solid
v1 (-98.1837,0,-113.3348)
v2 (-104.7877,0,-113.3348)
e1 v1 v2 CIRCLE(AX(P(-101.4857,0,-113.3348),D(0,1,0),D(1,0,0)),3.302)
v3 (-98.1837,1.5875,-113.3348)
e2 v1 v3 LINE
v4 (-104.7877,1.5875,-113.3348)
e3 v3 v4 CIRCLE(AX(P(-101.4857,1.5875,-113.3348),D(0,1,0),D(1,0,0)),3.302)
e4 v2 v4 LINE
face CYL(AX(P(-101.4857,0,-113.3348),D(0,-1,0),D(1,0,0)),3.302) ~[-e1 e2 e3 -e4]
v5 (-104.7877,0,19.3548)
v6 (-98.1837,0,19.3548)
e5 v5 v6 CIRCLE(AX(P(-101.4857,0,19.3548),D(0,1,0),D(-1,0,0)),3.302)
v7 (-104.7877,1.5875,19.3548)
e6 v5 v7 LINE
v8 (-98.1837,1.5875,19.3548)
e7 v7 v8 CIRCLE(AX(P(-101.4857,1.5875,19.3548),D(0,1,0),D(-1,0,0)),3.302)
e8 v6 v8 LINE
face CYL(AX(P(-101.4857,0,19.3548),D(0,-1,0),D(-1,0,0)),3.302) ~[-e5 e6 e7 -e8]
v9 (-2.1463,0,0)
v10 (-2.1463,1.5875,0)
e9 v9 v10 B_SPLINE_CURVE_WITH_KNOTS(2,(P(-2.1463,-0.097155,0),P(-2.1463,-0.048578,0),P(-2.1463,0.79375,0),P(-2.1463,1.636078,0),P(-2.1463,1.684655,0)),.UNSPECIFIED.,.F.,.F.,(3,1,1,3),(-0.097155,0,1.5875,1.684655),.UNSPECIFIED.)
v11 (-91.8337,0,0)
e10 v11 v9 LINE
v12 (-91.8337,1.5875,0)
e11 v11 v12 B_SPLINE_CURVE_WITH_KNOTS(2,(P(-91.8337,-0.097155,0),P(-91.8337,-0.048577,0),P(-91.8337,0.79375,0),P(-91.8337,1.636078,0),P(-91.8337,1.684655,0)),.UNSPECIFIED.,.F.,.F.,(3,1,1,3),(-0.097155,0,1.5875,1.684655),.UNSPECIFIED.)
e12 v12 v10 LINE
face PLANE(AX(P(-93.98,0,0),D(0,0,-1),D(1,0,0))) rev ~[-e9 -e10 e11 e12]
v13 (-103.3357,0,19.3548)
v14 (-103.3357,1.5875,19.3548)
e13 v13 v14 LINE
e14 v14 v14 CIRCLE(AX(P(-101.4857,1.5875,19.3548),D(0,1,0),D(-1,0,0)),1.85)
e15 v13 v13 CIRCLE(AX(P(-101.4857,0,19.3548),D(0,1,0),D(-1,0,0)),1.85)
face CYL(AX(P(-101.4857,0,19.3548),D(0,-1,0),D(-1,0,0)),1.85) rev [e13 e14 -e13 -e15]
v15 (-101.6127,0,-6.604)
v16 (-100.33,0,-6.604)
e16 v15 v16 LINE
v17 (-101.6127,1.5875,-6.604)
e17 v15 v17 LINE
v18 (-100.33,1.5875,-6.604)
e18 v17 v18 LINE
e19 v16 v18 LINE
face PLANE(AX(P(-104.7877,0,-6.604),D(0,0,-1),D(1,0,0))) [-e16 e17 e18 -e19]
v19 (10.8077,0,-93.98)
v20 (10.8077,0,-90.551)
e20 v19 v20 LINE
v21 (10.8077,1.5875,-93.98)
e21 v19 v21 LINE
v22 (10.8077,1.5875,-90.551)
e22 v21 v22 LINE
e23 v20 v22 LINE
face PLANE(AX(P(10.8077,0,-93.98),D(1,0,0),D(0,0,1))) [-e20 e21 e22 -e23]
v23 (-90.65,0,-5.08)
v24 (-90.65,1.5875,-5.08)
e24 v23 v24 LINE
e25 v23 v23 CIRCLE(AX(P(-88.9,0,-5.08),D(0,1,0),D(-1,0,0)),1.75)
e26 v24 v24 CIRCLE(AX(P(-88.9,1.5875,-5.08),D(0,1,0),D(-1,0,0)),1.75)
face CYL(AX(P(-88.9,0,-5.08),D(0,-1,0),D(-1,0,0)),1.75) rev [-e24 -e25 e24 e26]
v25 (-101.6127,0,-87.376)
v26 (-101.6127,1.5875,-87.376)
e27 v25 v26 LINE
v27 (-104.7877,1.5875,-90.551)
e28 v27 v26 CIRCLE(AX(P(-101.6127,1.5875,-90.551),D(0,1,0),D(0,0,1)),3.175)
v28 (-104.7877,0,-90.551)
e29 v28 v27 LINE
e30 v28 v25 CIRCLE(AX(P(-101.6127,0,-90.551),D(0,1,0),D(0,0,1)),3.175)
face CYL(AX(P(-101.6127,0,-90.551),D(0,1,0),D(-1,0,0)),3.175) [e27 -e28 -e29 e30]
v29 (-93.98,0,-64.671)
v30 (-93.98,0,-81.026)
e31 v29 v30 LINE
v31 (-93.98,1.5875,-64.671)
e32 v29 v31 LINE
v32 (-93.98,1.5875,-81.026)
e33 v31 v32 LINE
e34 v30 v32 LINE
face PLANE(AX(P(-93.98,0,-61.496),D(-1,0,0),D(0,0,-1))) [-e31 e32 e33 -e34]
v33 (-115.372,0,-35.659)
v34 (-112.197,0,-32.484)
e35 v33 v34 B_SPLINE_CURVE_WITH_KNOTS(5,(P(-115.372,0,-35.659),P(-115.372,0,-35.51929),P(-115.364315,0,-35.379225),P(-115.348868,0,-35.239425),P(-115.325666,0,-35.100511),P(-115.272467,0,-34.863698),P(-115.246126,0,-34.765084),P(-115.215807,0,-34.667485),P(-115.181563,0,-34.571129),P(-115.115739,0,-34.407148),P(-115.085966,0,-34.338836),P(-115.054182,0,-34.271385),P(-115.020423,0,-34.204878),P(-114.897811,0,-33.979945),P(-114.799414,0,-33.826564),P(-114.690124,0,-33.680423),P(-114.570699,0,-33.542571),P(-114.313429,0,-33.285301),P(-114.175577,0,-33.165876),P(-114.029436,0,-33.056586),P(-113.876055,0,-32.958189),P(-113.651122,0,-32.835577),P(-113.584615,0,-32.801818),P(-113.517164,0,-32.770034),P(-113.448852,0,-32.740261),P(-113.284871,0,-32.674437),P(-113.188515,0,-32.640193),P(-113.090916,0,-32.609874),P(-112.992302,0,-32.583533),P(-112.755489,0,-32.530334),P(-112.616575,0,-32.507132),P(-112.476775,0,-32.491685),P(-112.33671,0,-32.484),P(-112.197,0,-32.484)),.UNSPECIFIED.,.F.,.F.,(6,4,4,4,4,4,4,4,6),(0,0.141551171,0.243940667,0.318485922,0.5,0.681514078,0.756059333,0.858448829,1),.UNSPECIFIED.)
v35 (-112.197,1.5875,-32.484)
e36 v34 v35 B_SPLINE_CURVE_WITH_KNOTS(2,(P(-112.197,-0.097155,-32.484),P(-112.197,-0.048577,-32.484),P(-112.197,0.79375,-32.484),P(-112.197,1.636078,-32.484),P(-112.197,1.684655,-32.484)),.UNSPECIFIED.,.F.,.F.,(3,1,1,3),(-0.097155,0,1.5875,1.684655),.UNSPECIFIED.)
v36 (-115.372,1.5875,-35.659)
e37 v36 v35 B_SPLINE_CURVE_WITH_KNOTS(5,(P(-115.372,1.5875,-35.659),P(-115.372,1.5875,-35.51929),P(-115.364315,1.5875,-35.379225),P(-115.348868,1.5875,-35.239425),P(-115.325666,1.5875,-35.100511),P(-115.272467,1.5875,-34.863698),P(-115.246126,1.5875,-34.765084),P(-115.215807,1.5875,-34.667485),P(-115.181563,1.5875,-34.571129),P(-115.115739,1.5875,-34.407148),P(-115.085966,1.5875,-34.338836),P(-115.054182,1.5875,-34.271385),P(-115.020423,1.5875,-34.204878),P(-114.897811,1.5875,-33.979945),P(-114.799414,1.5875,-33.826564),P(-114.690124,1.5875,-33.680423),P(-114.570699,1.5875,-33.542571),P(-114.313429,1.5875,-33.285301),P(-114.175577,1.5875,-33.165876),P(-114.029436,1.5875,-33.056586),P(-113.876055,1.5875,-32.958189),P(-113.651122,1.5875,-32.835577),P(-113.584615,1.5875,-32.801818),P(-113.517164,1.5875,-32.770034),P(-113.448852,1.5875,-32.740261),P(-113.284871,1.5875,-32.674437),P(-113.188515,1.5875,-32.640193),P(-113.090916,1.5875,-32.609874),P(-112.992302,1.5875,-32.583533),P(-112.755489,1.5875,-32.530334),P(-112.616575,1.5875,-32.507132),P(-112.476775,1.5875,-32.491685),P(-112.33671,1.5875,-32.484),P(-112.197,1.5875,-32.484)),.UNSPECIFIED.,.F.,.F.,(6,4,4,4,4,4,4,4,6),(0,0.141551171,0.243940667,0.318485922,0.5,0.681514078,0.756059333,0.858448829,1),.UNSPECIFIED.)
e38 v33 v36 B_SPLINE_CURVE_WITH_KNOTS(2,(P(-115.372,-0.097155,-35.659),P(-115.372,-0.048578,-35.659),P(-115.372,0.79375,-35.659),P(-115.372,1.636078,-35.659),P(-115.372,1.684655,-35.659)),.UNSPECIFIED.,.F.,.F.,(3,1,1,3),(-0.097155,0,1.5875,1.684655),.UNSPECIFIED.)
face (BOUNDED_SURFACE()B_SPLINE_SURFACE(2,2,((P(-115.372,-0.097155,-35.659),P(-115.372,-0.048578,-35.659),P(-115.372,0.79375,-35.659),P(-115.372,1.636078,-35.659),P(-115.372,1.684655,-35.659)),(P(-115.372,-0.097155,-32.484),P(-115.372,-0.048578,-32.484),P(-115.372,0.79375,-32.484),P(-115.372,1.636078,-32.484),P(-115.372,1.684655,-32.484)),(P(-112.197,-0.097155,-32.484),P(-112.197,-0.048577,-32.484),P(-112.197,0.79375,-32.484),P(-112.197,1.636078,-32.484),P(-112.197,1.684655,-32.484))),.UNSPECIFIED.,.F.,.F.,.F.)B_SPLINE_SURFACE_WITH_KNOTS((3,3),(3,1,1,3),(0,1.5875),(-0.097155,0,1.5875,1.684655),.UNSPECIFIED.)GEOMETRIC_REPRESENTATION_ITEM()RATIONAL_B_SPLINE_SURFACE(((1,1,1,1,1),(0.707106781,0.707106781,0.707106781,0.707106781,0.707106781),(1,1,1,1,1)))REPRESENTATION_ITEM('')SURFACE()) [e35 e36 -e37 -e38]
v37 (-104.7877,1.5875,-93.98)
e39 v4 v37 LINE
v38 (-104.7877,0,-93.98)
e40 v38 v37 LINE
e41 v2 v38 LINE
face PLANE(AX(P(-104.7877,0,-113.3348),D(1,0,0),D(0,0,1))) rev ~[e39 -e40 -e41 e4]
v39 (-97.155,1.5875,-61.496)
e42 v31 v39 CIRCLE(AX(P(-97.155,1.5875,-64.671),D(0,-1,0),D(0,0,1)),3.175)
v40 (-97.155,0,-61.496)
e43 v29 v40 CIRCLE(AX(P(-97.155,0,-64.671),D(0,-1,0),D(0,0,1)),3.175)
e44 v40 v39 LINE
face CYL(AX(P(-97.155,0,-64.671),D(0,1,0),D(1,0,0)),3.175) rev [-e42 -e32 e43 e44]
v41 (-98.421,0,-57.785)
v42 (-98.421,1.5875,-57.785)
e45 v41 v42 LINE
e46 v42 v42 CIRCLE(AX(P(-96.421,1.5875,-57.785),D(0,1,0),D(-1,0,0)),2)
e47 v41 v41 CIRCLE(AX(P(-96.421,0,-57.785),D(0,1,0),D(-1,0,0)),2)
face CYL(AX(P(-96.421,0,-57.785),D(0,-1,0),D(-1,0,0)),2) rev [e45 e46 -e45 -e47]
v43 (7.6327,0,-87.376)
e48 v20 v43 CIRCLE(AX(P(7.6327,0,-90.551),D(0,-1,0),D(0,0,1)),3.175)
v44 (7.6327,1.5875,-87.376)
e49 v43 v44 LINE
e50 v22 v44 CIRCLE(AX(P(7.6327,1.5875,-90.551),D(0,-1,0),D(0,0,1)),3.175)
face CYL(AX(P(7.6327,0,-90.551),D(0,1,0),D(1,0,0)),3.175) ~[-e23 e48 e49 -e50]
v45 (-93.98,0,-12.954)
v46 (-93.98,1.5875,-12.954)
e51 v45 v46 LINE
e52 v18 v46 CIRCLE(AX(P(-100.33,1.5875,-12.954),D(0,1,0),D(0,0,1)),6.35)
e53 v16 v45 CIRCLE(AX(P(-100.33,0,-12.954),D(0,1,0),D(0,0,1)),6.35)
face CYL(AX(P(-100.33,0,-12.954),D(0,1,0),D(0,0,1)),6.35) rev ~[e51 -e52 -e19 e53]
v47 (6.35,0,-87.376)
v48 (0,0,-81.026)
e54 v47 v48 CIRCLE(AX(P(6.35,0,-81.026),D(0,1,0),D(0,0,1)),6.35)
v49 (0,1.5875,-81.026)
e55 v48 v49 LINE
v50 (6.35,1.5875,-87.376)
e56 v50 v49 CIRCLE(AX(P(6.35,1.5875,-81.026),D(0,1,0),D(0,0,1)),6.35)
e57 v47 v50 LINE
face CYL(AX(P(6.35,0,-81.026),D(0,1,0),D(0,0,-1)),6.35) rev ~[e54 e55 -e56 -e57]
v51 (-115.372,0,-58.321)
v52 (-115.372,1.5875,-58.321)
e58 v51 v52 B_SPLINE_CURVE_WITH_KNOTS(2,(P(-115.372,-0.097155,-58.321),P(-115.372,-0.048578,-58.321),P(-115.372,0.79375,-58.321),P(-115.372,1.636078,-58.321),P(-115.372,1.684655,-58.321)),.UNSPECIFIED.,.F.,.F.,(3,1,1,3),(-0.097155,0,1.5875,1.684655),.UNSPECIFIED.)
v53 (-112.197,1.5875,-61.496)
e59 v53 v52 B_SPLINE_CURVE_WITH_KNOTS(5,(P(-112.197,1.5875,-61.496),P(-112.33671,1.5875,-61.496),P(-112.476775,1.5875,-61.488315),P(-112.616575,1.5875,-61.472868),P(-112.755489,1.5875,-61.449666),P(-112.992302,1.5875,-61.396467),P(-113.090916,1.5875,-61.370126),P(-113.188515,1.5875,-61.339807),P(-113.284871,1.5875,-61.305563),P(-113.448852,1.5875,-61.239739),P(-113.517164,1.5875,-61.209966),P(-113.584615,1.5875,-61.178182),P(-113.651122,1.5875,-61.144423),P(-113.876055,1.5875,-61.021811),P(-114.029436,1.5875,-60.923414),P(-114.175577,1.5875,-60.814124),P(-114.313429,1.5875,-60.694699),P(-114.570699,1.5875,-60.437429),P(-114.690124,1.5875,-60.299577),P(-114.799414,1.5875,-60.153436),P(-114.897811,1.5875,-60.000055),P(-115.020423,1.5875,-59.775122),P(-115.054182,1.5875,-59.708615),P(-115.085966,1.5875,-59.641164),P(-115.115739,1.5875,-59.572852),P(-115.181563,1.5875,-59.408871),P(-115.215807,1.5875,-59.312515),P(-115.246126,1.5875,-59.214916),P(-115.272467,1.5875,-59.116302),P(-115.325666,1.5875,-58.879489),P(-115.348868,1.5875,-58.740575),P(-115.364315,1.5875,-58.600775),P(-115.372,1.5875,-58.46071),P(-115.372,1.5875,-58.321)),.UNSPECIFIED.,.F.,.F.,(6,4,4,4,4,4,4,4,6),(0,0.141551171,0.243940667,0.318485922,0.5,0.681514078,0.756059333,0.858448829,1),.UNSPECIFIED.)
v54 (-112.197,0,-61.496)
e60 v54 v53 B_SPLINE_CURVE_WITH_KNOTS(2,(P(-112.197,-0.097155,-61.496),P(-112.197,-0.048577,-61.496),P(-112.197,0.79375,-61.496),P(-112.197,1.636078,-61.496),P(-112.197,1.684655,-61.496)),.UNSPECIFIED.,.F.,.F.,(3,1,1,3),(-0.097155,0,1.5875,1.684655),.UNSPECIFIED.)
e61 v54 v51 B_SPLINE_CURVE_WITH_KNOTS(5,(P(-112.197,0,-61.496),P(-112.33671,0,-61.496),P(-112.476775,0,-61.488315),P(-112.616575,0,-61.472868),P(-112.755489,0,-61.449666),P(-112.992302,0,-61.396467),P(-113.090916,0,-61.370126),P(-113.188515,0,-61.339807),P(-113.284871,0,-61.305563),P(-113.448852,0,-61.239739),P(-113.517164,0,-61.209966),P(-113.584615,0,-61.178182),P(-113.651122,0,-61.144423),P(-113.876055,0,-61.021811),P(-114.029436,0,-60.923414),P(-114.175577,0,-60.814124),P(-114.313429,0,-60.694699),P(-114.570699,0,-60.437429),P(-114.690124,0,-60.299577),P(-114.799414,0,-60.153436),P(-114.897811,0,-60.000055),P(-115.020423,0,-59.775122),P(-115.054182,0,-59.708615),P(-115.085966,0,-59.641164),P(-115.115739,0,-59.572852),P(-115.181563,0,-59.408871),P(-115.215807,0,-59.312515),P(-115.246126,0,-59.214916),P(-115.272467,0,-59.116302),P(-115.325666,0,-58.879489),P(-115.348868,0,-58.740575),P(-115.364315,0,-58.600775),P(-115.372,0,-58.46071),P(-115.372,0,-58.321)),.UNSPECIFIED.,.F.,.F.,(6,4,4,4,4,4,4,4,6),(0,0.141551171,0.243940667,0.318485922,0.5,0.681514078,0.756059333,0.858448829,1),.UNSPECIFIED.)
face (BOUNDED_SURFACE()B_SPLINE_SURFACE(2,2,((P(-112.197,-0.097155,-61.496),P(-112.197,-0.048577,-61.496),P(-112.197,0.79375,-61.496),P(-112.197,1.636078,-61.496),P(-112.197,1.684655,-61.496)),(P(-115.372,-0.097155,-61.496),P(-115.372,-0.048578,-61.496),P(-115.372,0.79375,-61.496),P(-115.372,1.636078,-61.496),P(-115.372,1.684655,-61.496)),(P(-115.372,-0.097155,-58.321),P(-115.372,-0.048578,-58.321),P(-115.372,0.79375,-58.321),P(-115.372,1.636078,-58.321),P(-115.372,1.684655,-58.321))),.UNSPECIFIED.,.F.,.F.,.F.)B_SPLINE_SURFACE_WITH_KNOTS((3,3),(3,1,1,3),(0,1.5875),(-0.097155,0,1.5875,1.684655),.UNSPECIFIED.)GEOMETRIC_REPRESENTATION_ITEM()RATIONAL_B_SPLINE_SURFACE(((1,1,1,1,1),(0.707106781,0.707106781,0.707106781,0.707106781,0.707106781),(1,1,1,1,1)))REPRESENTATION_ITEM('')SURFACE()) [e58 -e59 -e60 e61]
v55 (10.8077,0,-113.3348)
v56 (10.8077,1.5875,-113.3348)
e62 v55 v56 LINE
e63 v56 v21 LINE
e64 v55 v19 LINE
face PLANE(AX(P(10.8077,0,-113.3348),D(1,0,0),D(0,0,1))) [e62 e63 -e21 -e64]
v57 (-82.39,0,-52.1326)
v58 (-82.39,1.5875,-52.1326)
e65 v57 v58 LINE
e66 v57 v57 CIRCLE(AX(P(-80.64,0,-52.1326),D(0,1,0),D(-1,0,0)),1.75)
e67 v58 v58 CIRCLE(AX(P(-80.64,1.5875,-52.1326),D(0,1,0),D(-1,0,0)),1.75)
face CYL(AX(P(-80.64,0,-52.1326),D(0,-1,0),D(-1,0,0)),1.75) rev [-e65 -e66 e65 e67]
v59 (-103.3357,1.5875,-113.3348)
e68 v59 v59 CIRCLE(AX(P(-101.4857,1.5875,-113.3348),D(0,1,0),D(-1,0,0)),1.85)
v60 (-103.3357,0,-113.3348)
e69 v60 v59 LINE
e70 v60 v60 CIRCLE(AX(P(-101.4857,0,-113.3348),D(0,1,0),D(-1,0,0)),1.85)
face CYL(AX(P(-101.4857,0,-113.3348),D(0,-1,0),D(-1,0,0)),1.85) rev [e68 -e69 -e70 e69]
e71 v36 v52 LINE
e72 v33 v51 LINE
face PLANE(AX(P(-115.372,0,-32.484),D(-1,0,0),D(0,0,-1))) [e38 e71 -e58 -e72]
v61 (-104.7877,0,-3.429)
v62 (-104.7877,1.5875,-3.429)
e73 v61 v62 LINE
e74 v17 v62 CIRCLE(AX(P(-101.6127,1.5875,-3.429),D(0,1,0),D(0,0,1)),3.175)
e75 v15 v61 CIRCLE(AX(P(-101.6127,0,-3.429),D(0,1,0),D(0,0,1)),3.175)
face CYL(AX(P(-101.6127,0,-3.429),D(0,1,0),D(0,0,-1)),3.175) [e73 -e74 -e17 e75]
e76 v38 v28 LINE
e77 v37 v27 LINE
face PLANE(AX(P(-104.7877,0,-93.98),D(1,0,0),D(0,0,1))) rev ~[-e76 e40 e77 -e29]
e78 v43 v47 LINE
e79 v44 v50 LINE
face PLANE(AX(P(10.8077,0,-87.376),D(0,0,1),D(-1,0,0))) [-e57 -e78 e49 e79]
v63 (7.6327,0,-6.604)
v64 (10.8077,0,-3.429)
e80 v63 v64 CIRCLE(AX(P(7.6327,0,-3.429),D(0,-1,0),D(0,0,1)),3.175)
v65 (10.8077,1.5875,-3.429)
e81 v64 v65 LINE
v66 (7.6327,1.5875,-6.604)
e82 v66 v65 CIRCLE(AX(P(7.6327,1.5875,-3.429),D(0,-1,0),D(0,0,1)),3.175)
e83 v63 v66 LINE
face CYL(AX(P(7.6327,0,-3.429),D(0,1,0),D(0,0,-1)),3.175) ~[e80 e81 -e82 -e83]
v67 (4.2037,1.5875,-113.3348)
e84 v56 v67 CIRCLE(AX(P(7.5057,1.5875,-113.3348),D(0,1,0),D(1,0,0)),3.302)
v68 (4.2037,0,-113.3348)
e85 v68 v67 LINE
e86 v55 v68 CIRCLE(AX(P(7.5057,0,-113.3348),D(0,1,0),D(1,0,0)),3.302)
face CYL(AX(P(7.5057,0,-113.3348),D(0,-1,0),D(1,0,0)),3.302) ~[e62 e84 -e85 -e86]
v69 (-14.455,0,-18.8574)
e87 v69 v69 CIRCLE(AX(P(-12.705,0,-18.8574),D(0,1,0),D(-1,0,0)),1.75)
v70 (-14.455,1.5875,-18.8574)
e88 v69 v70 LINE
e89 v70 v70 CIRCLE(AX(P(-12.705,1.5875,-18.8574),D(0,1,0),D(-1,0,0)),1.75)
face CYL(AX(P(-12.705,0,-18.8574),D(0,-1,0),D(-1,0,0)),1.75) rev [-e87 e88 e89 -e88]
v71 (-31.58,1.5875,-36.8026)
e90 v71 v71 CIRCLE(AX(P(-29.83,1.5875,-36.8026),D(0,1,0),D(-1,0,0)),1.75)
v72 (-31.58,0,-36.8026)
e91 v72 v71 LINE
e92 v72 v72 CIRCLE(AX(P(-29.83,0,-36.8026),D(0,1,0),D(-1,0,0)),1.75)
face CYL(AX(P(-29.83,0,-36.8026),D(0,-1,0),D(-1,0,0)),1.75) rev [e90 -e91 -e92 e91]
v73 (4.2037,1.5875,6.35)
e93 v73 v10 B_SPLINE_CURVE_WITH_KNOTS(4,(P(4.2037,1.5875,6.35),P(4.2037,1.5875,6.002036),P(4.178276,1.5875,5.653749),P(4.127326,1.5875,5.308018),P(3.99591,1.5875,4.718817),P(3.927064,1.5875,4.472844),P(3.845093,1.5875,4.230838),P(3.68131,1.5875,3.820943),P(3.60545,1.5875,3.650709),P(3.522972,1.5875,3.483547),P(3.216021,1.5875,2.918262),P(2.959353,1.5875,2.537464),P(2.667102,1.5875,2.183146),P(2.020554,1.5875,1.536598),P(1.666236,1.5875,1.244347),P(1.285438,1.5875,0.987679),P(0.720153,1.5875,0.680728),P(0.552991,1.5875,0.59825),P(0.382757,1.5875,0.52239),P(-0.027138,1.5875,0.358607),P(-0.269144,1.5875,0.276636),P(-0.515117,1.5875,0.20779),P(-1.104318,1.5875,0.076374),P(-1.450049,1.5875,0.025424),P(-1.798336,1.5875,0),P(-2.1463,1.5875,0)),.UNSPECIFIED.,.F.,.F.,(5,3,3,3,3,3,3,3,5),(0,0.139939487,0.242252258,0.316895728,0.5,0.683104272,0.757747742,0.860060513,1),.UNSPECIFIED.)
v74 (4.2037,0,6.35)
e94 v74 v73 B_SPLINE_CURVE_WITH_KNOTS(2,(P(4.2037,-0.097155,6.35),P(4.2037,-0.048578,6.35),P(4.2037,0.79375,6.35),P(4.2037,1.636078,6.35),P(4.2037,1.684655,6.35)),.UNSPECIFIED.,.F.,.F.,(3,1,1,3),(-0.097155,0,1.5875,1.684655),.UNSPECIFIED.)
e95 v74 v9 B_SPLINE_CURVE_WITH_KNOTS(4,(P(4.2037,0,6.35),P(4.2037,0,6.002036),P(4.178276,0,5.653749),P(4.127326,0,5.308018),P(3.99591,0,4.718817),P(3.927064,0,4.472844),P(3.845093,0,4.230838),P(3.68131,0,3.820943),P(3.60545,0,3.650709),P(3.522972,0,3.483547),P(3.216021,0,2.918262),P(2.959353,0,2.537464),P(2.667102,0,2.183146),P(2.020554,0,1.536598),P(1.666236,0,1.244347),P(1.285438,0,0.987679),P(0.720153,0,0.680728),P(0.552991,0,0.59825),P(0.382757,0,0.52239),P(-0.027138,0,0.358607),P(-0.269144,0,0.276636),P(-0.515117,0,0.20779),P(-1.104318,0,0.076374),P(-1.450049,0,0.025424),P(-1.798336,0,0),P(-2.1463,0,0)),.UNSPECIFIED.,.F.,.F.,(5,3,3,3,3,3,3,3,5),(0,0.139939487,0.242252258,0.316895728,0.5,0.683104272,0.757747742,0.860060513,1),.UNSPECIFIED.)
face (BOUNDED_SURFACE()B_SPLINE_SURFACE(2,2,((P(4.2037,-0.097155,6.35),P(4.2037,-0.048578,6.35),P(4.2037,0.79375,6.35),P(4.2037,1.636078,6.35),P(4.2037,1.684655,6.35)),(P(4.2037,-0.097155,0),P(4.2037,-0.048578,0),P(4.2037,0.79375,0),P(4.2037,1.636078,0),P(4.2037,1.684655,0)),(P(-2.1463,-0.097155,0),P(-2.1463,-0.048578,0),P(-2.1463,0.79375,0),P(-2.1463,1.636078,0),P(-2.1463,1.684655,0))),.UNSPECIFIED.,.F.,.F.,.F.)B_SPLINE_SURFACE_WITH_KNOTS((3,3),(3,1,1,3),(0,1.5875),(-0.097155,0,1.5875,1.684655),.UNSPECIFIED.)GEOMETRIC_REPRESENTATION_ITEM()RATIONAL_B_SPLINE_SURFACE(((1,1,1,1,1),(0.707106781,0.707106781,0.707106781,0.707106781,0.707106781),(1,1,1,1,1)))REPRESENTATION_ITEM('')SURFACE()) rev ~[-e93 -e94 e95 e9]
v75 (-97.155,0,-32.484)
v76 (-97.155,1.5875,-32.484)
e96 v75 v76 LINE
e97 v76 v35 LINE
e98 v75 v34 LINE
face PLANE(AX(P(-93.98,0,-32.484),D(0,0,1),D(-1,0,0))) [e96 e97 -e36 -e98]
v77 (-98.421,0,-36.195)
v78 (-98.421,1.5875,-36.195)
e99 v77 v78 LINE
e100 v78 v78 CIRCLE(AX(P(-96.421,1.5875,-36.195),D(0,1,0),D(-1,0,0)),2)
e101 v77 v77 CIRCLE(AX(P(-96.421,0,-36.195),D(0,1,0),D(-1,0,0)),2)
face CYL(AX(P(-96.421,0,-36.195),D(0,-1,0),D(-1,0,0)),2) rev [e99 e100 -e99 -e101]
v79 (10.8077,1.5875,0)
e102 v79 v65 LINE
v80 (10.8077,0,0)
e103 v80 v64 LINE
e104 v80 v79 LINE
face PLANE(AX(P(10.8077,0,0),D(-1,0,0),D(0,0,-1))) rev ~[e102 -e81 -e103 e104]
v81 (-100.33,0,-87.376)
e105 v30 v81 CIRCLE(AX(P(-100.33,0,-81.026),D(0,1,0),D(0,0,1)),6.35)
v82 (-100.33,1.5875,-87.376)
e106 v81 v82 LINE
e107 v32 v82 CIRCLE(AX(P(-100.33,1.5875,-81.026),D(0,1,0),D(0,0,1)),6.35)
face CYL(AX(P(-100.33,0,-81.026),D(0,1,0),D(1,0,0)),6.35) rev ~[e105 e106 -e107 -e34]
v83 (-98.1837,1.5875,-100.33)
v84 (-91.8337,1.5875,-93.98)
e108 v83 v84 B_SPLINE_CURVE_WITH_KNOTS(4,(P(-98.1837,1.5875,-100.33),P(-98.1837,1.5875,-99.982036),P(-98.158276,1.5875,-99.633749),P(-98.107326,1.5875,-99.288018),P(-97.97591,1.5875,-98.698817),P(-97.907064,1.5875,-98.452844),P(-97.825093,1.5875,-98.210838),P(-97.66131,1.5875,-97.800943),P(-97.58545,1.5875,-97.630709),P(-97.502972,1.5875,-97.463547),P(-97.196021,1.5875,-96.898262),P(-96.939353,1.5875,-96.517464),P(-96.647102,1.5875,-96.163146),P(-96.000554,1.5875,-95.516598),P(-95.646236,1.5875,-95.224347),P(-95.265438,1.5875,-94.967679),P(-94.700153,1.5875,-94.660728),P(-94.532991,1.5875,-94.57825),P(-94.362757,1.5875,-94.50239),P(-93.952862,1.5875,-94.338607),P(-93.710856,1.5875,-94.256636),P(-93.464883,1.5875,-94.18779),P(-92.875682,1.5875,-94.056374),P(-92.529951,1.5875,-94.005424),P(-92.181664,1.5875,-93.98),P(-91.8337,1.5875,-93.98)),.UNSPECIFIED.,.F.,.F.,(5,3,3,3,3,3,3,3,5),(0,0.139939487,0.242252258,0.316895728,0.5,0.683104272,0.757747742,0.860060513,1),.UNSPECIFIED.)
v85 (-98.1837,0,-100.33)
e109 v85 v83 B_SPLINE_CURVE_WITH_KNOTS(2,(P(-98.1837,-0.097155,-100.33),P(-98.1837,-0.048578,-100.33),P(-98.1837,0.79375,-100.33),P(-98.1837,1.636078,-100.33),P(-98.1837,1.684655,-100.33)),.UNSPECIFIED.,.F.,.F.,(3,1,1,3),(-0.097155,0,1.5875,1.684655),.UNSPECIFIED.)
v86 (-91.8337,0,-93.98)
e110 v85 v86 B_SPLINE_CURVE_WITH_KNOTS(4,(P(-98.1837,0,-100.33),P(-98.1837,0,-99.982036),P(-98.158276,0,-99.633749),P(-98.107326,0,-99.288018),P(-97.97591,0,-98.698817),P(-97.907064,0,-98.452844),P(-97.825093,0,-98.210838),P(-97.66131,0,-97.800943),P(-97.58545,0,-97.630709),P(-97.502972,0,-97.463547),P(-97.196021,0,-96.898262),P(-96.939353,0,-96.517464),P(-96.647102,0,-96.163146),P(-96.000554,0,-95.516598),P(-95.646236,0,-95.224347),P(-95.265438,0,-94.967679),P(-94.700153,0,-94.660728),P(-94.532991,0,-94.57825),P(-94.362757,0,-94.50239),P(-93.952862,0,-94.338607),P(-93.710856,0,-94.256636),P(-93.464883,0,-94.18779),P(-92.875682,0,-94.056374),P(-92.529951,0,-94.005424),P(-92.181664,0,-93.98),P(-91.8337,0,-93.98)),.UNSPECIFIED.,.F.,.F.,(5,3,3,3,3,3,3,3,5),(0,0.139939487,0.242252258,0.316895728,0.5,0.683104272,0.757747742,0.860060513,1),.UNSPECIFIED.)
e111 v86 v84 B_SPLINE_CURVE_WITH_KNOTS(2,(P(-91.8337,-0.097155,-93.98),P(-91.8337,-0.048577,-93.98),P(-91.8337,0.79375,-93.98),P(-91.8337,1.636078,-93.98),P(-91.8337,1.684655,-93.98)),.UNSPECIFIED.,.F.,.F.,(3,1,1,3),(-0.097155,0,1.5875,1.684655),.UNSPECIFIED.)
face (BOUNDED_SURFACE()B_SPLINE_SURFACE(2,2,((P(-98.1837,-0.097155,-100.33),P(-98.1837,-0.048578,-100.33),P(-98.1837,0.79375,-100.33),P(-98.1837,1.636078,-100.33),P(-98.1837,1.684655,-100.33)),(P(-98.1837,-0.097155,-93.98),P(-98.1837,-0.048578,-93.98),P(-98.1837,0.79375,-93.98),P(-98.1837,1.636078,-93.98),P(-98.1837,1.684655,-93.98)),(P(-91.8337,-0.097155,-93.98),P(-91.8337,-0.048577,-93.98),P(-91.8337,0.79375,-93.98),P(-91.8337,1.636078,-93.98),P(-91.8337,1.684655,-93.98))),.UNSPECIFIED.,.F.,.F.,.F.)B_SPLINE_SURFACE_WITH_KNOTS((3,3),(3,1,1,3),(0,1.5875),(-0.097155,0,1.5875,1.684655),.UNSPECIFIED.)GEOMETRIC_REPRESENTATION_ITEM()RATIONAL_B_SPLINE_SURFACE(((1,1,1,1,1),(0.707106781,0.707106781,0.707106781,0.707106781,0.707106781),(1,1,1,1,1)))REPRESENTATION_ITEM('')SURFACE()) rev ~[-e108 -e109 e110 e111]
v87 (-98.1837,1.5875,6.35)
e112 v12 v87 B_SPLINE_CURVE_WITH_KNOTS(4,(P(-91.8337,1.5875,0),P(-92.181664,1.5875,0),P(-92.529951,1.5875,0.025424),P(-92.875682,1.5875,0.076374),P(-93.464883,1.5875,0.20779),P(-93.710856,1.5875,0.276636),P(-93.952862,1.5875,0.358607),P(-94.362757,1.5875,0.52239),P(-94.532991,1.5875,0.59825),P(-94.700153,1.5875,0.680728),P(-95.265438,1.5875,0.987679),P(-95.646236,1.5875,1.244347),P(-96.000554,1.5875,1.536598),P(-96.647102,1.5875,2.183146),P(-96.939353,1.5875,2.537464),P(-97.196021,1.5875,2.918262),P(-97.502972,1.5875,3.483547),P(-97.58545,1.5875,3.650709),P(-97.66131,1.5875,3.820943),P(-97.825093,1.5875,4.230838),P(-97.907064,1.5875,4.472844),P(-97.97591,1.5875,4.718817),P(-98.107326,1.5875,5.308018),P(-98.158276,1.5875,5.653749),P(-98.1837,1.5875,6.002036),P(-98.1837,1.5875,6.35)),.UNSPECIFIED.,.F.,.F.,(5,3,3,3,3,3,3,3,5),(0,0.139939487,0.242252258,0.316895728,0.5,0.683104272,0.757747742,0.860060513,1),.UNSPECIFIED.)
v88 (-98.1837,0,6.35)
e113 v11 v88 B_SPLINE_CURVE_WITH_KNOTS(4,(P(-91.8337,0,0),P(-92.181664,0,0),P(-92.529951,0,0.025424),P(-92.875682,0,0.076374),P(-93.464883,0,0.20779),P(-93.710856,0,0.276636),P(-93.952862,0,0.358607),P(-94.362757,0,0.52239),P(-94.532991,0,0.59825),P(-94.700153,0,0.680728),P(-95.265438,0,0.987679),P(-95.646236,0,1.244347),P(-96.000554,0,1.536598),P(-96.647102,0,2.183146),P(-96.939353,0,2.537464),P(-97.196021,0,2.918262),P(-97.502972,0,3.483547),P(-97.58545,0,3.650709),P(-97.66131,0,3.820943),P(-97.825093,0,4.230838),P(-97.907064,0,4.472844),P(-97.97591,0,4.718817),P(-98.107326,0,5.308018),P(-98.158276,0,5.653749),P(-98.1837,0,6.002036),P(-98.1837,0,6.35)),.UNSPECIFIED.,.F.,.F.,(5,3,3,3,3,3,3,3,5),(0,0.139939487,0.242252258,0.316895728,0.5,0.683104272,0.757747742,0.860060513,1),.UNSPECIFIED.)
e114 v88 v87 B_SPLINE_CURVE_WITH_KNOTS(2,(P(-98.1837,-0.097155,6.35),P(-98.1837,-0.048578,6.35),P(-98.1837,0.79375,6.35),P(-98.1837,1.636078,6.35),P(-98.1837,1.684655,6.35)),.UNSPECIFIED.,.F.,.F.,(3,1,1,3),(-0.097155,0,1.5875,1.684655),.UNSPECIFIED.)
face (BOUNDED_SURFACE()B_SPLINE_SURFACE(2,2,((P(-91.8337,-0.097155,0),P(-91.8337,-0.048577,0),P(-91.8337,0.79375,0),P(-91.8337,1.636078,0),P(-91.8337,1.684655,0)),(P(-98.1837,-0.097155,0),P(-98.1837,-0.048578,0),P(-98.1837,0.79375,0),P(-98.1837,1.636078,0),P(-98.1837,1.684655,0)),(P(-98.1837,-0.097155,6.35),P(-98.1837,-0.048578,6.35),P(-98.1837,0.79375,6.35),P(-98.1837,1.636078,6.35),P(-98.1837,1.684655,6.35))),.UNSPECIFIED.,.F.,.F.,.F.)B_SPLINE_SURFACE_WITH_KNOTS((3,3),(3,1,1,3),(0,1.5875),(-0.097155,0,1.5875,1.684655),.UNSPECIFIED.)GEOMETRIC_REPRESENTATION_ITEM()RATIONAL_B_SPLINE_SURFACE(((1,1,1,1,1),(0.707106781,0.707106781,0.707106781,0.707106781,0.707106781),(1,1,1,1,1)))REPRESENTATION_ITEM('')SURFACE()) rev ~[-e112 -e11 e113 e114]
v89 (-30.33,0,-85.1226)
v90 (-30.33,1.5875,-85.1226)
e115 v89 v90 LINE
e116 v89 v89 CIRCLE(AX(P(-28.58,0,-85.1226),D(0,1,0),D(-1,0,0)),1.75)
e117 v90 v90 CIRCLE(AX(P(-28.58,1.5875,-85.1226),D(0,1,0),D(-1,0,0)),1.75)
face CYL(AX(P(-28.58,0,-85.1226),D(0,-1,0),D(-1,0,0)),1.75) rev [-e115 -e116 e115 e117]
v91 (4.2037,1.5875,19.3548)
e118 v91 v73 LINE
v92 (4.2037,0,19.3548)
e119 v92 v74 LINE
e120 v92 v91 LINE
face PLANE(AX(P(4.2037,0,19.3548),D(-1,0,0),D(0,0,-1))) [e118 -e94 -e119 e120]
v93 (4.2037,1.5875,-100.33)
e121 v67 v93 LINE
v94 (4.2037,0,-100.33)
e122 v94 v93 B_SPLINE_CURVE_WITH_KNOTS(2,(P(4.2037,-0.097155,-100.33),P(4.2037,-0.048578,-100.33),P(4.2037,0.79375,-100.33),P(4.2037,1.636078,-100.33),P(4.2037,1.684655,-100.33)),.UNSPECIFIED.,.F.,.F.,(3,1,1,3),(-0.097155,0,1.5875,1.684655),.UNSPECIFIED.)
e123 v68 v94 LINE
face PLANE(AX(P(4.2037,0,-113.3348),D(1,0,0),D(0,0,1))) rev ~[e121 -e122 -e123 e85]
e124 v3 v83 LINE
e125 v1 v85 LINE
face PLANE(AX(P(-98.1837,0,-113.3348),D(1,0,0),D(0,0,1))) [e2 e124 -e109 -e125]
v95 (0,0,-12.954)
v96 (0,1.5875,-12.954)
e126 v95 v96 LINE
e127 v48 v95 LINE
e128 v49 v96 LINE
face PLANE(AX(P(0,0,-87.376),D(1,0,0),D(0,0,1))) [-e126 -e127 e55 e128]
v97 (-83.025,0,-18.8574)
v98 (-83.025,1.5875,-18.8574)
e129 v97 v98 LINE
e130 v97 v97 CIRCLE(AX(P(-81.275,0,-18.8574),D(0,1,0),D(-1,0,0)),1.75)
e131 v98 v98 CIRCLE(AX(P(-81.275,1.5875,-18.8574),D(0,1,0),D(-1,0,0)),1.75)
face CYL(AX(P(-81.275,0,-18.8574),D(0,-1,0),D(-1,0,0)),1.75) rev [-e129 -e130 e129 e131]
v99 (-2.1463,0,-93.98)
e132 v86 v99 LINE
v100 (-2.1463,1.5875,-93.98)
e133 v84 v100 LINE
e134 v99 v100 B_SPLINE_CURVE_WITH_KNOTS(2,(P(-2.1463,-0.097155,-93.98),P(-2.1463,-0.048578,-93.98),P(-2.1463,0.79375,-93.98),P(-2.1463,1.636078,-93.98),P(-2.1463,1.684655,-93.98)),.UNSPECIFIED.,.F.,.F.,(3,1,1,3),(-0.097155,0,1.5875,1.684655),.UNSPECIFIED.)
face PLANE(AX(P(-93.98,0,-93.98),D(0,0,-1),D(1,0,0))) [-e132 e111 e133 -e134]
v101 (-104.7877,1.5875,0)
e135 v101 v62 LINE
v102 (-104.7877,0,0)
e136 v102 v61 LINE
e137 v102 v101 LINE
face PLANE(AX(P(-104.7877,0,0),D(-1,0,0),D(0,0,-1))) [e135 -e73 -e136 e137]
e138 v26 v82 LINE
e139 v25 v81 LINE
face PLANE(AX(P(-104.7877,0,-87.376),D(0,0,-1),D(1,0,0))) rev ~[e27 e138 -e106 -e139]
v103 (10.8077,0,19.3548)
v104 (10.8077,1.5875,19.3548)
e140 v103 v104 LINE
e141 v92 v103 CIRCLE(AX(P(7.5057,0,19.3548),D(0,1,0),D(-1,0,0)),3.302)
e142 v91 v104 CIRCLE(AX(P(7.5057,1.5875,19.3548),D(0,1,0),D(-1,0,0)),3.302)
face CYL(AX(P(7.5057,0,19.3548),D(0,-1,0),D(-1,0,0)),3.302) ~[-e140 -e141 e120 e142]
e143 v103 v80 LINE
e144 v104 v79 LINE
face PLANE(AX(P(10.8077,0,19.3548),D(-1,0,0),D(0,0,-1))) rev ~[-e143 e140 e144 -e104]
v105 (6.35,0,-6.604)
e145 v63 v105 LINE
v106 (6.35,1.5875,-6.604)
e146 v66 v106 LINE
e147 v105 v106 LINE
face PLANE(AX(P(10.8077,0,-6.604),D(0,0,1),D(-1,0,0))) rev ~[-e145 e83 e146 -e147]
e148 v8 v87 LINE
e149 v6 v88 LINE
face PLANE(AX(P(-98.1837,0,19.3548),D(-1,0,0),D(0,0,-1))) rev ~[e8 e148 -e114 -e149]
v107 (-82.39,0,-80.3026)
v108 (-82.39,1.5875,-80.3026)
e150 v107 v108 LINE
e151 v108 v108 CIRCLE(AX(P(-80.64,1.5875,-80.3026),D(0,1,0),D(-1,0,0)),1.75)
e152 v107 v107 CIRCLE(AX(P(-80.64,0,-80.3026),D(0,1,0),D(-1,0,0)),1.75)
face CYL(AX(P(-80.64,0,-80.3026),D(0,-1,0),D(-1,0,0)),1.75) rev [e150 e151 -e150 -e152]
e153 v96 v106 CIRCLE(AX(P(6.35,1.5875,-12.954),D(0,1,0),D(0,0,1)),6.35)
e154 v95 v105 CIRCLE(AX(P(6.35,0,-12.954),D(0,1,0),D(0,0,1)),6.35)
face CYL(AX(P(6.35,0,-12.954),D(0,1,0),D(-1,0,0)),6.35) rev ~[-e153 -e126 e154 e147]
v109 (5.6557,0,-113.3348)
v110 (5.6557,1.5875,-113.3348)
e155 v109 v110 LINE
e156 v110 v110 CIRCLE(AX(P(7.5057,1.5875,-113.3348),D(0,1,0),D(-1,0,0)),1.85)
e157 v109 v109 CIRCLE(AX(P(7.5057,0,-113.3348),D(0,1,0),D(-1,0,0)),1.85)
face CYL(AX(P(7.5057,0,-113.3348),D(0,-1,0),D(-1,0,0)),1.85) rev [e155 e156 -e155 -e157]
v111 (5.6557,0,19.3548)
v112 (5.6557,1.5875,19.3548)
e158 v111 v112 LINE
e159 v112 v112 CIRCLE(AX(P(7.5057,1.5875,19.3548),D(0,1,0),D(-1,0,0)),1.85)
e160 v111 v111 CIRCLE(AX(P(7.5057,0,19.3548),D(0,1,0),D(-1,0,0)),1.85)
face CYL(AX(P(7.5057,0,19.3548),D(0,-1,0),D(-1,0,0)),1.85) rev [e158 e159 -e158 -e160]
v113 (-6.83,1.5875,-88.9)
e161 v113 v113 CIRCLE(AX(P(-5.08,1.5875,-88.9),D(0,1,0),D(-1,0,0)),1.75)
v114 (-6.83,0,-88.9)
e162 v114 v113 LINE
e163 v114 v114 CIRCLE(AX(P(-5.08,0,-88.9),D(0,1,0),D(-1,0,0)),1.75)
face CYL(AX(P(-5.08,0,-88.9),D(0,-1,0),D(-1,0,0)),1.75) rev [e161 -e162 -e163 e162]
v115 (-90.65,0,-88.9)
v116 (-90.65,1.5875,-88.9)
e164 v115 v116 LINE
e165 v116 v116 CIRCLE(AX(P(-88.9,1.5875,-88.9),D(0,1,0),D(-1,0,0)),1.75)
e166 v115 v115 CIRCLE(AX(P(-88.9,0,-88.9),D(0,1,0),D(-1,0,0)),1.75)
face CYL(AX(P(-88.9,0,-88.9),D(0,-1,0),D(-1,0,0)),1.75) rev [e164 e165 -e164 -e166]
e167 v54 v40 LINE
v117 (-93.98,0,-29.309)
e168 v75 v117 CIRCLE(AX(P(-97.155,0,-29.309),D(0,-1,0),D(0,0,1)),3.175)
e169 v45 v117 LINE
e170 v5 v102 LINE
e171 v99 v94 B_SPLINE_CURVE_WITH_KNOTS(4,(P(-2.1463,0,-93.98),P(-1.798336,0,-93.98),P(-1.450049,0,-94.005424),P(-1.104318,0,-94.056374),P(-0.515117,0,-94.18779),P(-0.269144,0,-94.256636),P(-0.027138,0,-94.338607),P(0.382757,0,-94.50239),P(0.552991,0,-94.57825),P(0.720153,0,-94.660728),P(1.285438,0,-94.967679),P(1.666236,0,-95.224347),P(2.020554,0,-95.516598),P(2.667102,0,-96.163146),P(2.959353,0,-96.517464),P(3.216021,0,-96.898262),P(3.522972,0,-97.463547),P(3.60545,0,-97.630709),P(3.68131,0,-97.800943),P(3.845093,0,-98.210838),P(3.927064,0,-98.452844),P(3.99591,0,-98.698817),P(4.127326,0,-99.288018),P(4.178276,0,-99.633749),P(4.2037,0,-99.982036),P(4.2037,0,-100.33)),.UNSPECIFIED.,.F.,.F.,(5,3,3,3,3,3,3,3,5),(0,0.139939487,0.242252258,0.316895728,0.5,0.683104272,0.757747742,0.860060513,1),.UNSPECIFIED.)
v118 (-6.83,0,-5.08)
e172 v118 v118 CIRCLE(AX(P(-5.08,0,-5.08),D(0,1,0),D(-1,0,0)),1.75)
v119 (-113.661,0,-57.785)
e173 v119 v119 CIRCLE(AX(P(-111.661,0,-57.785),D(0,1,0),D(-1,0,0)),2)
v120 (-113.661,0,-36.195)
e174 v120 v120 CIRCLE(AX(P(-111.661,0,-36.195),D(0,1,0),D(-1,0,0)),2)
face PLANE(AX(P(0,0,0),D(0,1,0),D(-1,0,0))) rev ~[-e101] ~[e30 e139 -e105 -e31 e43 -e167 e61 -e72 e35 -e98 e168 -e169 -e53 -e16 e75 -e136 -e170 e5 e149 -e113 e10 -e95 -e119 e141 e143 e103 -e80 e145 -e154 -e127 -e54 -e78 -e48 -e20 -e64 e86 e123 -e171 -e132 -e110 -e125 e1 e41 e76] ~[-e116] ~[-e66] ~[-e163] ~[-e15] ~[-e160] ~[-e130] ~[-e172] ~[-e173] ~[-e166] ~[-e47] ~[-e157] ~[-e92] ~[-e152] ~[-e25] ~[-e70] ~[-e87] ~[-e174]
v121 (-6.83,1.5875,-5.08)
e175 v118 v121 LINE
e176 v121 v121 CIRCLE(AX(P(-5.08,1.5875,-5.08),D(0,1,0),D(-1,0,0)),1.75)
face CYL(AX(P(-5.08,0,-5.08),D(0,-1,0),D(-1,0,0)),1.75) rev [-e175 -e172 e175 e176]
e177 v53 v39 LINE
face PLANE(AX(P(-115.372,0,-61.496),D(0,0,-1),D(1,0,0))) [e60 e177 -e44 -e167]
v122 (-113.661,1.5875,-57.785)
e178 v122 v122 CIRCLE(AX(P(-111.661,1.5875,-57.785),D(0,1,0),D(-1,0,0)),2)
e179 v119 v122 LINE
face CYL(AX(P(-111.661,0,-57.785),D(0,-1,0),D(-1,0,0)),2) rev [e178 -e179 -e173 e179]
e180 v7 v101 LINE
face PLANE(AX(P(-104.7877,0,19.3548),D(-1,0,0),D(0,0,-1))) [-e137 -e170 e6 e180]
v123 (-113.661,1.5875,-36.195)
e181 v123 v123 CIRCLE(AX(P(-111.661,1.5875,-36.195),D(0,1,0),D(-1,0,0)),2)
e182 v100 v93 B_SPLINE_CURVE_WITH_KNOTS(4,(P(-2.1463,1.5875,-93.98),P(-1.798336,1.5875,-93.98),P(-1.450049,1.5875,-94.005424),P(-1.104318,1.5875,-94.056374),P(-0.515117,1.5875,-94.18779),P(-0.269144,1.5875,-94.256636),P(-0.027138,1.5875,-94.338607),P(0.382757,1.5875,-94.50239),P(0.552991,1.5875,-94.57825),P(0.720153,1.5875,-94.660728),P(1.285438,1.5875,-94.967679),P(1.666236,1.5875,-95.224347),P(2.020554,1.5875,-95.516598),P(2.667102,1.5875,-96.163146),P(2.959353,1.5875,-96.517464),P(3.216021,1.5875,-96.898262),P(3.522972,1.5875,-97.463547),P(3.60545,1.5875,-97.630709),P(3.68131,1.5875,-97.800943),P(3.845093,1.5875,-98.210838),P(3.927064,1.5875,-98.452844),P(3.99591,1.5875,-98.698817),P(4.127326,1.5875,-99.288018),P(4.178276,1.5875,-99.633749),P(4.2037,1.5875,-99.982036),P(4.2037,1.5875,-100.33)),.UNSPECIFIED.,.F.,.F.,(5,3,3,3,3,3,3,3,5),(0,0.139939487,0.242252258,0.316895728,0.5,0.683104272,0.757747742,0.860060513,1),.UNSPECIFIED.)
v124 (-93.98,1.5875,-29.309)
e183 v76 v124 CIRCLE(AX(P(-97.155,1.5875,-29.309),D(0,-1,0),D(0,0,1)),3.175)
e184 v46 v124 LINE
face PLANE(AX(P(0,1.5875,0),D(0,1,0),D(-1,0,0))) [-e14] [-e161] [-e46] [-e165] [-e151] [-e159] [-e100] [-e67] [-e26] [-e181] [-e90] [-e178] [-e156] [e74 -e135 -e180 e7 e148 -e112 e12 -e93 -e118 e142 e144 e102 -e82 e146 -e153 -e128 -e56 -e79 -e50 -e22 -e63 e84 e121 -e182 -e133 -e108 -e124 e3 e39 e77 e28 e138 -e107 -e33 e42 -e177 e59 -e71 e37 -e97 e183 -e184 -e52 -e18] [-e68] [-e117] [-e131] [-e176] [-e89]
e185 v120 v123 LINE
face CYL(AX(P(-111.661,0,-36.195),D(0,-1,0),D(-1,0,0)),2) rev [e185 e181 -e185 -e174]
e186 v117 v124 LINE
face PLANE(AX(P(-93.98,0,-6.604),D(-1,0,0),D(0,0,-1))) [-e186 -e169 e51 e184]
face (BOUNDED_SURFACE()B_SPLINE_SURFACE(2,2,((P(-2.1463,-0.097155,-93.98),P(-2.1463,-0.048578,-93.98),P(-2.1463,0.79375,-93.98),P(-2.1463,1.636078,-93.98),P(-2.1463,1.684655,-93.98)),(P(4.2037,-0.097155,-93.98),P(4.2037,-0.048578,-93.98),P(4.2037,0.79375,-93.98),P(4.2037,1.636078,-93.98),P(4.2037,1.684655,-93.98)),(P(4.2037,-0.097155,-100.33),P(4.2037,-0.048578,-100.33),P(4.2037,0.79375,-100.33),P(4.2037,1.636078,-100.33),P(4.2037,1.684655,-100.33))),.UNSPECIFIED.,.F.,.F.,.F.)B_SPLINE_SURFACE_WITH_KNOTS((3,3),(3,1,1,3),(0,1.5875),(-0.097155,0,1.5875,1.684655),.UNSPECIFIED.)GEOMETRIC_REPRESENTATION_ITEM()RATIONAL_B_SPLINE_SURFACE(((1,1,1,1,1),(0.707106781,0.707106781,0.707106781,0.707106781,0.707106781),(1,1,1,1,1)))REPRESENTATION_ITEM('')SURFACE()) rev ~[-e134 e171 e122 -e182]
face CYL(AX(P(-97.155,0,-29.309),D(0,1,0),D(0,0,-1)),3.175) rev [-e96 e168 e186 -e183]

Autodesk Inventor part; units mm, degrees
ref_plane "YZ Plane" through (0, 0, 0) normal (1, 0, 0) x (0, 1, 0)
ref_plane "XZ Plane" through (0, 0, 0) normal (0, 1, 0) x (-1, 0, 0)
ref_plane "XY Plane" through (0, 0, 0) normal (0, 0, 1) x (1, 0, 0)
sketch "Sketch7" plane through (0, 0, 0) normal (0, 1, 0) x (-1, 0, 0)
  line L0 (93.98, -93.98) -> (0, -93.98)
  line L1 (0, -87.376) -> (0, -6.604)
  circle A0 centre (101.4857, 19.3548) radius 1.85
  circle A1 centre (101.4857, 19.3548) radius 1.85
  circle A2 centre (-7.5057, 19.3548) radius 1.85
  circle A3 centre (-7.5057, 19.3548) radius 1.85
  circle A4 centre (-7.5057, -113.3348) radius 1.85
  circle A5 centre (101.4857, -113.3348) radius 1.85
  circle A6 centre (101.4857, -113.3348) radius 1.85
  arc A7 (104.7877, 19.3548) -> (98.1837, 19.3548) centre (101.4857, 19.3548) ccw
  arc A8 (-4.2037, 19.3548) -> (-10.8077, 19.3548) centre (-7.5057, 19.3548) ccw
  arc A9 (-10.8077, -113.3348) -> (-4.2037, -113.3348) centre (-7.5057, -113.3348) ccw
  arc A10 (98.1837, -113.3348) -> (104.7877, -113.3348) centre (101.4857, -113.3348) ccw
  line L2 (98.1837, 19.3548) -> (98.1837, 0)
  line L3 (98.1837, 0) -> (93.98, 0)
  line L4 (104.7877, 19.3548) -> (104.7877, 0)
  line L5 (104.7877, 0) -> (104.7877, -6.604)
  line L6 (104.7877, -6.604) -> (93.98, -6.604)
  arc A11 (98.1837, -113.3348) -> (104.7877, -113.3348) centre (101.4857, -113.3348) ccw
  line L7 (98.1837, -113.3348) -> (98.1837, -93.98)
  line L8 (98.1837, -93.98) -> (93.98, -93.98)
  line L9 (104.7877, -113.3348) -> (104.7877, -93.98)
  line L10 (104.7877, -93.98) -> (104.7877, -87.376)
  line L11 (104.7877, -87.376) -> (93.98, -87.376)
  arc A12 (-4.2037, 19.3548) -> (-10.8077, 19.3548) centre (-7.5057, 19.3548) ccw
  line L12 (-4.2037, 19.3548) -> (-4.2037, 0)
  line L13 (-4.2037, 0) -> (0, 0)
  line L14 (-10.8077, 19.3548) -> (-10.8077, 0)
  line L15 (-10.8077, 0) -> (-10.8077, -6.604)
  line L16 (-10.8077, -6.604) -> (0, -6.604)
  arc A13 (-10.8077, -113.3348) -> (-4.2037, -113.3348) centre (-7.5057, -113.3348) ccw
  line L17 (-4.2037, -113.3348) -> (-4.2037, -93.98)
  line L18 (-10.8077, -113.3348) -> (-10.8077, -93.98)
  line L19 (-10.8077, -87.376) -> (0, -87.376)
  line L20 (-4.2037, -93.98) -> (0, -93.98)
  line L21 (-10.8077, -93.98) -> (-10.8077, -87.376)
  circle A14 centre (88.9, -5.08) radius 1.75
  circle A15 centre (88.9, -88.9) radius 1.75
  circle A16 centre (5.08, -5.08) radius 1.75
  circle A17 centre (5.08, -88.9) radius 1.75
  line L22 (98.1837, 0) -> (-4.2037, 0)
  circle A18 centre (80.64, -80.3026) radius 1.75
  circle A19 centre (80.64, -52.1326) radius 1.75
  circle A20 centre (28.58, -85.1226) radius 1.75
  circle A21 centre (29.83, -36.8026) radius 1.75
  circle A22 centre (81.275, -18.8574) radius 1.75
  circle A23 centre (12.705, -18.8574) radius 1.75
  line L23 (88.9, -5.08) -> (90.65, -5.08) construction
  circle A24 centre (111.661, -36.195) radius 2
  circle A25 centre (111.661, -57.785) radius 2
  circle A26 centre (96.421, -36.195) radius 2
  circle A27 centre (96.421, -57.785) radius 2
  line L24 (93.98, -32.484) -> (114.102, -32.484)
  line L25 (114.102, -32.484) -> (115.372, -32.484)
  line L26 (115.372, -32.484) -> (115.372, -60.226)
  line L27 (115.372, -60.226) -> (115.372, -61.496)
  line L28 (115.372, -61.496) -> (93.98, -61.496)
  line L29 (93.98, -61.496) -> (93.98, -87.376)
  line L30 (93.98, -6.604) -> (93.98, -32.484)
  point P0 (-2.54, 0.1)
extrude "Extrusion5" add sketch "Sketch7" along normal blind 1.5875
fillet "Fillet8" radius 6.35 8 edges at (-98.1837, 0.7937, 0) (-93.98, 0.7937, -6.604) (4.2037, 0.7937, 0) (0, 0.7937, -6.604) (0, 0.7937, -87.376) (4.2037, 0.7937, -93.98) (-93.98, 0.7937, -87.376) (-98.1837, 0.7937, -93.98)
fillet "Fillet9" radius 3.175 8 edges at (-104.7877, 0.7937, -6.604) (-115.372, 0.7937, -32.484) (-93.98, 0.7937, -32.484) (-93.98, 0.7937, -61.496) (-115.372, 0.7937, -61.496) (-104.7877, 0.7937, -87.376) (10.8077, 0.7937, -87.376) (10.8077, 0.7937, -6.604)
properties part number "groundPlate"
